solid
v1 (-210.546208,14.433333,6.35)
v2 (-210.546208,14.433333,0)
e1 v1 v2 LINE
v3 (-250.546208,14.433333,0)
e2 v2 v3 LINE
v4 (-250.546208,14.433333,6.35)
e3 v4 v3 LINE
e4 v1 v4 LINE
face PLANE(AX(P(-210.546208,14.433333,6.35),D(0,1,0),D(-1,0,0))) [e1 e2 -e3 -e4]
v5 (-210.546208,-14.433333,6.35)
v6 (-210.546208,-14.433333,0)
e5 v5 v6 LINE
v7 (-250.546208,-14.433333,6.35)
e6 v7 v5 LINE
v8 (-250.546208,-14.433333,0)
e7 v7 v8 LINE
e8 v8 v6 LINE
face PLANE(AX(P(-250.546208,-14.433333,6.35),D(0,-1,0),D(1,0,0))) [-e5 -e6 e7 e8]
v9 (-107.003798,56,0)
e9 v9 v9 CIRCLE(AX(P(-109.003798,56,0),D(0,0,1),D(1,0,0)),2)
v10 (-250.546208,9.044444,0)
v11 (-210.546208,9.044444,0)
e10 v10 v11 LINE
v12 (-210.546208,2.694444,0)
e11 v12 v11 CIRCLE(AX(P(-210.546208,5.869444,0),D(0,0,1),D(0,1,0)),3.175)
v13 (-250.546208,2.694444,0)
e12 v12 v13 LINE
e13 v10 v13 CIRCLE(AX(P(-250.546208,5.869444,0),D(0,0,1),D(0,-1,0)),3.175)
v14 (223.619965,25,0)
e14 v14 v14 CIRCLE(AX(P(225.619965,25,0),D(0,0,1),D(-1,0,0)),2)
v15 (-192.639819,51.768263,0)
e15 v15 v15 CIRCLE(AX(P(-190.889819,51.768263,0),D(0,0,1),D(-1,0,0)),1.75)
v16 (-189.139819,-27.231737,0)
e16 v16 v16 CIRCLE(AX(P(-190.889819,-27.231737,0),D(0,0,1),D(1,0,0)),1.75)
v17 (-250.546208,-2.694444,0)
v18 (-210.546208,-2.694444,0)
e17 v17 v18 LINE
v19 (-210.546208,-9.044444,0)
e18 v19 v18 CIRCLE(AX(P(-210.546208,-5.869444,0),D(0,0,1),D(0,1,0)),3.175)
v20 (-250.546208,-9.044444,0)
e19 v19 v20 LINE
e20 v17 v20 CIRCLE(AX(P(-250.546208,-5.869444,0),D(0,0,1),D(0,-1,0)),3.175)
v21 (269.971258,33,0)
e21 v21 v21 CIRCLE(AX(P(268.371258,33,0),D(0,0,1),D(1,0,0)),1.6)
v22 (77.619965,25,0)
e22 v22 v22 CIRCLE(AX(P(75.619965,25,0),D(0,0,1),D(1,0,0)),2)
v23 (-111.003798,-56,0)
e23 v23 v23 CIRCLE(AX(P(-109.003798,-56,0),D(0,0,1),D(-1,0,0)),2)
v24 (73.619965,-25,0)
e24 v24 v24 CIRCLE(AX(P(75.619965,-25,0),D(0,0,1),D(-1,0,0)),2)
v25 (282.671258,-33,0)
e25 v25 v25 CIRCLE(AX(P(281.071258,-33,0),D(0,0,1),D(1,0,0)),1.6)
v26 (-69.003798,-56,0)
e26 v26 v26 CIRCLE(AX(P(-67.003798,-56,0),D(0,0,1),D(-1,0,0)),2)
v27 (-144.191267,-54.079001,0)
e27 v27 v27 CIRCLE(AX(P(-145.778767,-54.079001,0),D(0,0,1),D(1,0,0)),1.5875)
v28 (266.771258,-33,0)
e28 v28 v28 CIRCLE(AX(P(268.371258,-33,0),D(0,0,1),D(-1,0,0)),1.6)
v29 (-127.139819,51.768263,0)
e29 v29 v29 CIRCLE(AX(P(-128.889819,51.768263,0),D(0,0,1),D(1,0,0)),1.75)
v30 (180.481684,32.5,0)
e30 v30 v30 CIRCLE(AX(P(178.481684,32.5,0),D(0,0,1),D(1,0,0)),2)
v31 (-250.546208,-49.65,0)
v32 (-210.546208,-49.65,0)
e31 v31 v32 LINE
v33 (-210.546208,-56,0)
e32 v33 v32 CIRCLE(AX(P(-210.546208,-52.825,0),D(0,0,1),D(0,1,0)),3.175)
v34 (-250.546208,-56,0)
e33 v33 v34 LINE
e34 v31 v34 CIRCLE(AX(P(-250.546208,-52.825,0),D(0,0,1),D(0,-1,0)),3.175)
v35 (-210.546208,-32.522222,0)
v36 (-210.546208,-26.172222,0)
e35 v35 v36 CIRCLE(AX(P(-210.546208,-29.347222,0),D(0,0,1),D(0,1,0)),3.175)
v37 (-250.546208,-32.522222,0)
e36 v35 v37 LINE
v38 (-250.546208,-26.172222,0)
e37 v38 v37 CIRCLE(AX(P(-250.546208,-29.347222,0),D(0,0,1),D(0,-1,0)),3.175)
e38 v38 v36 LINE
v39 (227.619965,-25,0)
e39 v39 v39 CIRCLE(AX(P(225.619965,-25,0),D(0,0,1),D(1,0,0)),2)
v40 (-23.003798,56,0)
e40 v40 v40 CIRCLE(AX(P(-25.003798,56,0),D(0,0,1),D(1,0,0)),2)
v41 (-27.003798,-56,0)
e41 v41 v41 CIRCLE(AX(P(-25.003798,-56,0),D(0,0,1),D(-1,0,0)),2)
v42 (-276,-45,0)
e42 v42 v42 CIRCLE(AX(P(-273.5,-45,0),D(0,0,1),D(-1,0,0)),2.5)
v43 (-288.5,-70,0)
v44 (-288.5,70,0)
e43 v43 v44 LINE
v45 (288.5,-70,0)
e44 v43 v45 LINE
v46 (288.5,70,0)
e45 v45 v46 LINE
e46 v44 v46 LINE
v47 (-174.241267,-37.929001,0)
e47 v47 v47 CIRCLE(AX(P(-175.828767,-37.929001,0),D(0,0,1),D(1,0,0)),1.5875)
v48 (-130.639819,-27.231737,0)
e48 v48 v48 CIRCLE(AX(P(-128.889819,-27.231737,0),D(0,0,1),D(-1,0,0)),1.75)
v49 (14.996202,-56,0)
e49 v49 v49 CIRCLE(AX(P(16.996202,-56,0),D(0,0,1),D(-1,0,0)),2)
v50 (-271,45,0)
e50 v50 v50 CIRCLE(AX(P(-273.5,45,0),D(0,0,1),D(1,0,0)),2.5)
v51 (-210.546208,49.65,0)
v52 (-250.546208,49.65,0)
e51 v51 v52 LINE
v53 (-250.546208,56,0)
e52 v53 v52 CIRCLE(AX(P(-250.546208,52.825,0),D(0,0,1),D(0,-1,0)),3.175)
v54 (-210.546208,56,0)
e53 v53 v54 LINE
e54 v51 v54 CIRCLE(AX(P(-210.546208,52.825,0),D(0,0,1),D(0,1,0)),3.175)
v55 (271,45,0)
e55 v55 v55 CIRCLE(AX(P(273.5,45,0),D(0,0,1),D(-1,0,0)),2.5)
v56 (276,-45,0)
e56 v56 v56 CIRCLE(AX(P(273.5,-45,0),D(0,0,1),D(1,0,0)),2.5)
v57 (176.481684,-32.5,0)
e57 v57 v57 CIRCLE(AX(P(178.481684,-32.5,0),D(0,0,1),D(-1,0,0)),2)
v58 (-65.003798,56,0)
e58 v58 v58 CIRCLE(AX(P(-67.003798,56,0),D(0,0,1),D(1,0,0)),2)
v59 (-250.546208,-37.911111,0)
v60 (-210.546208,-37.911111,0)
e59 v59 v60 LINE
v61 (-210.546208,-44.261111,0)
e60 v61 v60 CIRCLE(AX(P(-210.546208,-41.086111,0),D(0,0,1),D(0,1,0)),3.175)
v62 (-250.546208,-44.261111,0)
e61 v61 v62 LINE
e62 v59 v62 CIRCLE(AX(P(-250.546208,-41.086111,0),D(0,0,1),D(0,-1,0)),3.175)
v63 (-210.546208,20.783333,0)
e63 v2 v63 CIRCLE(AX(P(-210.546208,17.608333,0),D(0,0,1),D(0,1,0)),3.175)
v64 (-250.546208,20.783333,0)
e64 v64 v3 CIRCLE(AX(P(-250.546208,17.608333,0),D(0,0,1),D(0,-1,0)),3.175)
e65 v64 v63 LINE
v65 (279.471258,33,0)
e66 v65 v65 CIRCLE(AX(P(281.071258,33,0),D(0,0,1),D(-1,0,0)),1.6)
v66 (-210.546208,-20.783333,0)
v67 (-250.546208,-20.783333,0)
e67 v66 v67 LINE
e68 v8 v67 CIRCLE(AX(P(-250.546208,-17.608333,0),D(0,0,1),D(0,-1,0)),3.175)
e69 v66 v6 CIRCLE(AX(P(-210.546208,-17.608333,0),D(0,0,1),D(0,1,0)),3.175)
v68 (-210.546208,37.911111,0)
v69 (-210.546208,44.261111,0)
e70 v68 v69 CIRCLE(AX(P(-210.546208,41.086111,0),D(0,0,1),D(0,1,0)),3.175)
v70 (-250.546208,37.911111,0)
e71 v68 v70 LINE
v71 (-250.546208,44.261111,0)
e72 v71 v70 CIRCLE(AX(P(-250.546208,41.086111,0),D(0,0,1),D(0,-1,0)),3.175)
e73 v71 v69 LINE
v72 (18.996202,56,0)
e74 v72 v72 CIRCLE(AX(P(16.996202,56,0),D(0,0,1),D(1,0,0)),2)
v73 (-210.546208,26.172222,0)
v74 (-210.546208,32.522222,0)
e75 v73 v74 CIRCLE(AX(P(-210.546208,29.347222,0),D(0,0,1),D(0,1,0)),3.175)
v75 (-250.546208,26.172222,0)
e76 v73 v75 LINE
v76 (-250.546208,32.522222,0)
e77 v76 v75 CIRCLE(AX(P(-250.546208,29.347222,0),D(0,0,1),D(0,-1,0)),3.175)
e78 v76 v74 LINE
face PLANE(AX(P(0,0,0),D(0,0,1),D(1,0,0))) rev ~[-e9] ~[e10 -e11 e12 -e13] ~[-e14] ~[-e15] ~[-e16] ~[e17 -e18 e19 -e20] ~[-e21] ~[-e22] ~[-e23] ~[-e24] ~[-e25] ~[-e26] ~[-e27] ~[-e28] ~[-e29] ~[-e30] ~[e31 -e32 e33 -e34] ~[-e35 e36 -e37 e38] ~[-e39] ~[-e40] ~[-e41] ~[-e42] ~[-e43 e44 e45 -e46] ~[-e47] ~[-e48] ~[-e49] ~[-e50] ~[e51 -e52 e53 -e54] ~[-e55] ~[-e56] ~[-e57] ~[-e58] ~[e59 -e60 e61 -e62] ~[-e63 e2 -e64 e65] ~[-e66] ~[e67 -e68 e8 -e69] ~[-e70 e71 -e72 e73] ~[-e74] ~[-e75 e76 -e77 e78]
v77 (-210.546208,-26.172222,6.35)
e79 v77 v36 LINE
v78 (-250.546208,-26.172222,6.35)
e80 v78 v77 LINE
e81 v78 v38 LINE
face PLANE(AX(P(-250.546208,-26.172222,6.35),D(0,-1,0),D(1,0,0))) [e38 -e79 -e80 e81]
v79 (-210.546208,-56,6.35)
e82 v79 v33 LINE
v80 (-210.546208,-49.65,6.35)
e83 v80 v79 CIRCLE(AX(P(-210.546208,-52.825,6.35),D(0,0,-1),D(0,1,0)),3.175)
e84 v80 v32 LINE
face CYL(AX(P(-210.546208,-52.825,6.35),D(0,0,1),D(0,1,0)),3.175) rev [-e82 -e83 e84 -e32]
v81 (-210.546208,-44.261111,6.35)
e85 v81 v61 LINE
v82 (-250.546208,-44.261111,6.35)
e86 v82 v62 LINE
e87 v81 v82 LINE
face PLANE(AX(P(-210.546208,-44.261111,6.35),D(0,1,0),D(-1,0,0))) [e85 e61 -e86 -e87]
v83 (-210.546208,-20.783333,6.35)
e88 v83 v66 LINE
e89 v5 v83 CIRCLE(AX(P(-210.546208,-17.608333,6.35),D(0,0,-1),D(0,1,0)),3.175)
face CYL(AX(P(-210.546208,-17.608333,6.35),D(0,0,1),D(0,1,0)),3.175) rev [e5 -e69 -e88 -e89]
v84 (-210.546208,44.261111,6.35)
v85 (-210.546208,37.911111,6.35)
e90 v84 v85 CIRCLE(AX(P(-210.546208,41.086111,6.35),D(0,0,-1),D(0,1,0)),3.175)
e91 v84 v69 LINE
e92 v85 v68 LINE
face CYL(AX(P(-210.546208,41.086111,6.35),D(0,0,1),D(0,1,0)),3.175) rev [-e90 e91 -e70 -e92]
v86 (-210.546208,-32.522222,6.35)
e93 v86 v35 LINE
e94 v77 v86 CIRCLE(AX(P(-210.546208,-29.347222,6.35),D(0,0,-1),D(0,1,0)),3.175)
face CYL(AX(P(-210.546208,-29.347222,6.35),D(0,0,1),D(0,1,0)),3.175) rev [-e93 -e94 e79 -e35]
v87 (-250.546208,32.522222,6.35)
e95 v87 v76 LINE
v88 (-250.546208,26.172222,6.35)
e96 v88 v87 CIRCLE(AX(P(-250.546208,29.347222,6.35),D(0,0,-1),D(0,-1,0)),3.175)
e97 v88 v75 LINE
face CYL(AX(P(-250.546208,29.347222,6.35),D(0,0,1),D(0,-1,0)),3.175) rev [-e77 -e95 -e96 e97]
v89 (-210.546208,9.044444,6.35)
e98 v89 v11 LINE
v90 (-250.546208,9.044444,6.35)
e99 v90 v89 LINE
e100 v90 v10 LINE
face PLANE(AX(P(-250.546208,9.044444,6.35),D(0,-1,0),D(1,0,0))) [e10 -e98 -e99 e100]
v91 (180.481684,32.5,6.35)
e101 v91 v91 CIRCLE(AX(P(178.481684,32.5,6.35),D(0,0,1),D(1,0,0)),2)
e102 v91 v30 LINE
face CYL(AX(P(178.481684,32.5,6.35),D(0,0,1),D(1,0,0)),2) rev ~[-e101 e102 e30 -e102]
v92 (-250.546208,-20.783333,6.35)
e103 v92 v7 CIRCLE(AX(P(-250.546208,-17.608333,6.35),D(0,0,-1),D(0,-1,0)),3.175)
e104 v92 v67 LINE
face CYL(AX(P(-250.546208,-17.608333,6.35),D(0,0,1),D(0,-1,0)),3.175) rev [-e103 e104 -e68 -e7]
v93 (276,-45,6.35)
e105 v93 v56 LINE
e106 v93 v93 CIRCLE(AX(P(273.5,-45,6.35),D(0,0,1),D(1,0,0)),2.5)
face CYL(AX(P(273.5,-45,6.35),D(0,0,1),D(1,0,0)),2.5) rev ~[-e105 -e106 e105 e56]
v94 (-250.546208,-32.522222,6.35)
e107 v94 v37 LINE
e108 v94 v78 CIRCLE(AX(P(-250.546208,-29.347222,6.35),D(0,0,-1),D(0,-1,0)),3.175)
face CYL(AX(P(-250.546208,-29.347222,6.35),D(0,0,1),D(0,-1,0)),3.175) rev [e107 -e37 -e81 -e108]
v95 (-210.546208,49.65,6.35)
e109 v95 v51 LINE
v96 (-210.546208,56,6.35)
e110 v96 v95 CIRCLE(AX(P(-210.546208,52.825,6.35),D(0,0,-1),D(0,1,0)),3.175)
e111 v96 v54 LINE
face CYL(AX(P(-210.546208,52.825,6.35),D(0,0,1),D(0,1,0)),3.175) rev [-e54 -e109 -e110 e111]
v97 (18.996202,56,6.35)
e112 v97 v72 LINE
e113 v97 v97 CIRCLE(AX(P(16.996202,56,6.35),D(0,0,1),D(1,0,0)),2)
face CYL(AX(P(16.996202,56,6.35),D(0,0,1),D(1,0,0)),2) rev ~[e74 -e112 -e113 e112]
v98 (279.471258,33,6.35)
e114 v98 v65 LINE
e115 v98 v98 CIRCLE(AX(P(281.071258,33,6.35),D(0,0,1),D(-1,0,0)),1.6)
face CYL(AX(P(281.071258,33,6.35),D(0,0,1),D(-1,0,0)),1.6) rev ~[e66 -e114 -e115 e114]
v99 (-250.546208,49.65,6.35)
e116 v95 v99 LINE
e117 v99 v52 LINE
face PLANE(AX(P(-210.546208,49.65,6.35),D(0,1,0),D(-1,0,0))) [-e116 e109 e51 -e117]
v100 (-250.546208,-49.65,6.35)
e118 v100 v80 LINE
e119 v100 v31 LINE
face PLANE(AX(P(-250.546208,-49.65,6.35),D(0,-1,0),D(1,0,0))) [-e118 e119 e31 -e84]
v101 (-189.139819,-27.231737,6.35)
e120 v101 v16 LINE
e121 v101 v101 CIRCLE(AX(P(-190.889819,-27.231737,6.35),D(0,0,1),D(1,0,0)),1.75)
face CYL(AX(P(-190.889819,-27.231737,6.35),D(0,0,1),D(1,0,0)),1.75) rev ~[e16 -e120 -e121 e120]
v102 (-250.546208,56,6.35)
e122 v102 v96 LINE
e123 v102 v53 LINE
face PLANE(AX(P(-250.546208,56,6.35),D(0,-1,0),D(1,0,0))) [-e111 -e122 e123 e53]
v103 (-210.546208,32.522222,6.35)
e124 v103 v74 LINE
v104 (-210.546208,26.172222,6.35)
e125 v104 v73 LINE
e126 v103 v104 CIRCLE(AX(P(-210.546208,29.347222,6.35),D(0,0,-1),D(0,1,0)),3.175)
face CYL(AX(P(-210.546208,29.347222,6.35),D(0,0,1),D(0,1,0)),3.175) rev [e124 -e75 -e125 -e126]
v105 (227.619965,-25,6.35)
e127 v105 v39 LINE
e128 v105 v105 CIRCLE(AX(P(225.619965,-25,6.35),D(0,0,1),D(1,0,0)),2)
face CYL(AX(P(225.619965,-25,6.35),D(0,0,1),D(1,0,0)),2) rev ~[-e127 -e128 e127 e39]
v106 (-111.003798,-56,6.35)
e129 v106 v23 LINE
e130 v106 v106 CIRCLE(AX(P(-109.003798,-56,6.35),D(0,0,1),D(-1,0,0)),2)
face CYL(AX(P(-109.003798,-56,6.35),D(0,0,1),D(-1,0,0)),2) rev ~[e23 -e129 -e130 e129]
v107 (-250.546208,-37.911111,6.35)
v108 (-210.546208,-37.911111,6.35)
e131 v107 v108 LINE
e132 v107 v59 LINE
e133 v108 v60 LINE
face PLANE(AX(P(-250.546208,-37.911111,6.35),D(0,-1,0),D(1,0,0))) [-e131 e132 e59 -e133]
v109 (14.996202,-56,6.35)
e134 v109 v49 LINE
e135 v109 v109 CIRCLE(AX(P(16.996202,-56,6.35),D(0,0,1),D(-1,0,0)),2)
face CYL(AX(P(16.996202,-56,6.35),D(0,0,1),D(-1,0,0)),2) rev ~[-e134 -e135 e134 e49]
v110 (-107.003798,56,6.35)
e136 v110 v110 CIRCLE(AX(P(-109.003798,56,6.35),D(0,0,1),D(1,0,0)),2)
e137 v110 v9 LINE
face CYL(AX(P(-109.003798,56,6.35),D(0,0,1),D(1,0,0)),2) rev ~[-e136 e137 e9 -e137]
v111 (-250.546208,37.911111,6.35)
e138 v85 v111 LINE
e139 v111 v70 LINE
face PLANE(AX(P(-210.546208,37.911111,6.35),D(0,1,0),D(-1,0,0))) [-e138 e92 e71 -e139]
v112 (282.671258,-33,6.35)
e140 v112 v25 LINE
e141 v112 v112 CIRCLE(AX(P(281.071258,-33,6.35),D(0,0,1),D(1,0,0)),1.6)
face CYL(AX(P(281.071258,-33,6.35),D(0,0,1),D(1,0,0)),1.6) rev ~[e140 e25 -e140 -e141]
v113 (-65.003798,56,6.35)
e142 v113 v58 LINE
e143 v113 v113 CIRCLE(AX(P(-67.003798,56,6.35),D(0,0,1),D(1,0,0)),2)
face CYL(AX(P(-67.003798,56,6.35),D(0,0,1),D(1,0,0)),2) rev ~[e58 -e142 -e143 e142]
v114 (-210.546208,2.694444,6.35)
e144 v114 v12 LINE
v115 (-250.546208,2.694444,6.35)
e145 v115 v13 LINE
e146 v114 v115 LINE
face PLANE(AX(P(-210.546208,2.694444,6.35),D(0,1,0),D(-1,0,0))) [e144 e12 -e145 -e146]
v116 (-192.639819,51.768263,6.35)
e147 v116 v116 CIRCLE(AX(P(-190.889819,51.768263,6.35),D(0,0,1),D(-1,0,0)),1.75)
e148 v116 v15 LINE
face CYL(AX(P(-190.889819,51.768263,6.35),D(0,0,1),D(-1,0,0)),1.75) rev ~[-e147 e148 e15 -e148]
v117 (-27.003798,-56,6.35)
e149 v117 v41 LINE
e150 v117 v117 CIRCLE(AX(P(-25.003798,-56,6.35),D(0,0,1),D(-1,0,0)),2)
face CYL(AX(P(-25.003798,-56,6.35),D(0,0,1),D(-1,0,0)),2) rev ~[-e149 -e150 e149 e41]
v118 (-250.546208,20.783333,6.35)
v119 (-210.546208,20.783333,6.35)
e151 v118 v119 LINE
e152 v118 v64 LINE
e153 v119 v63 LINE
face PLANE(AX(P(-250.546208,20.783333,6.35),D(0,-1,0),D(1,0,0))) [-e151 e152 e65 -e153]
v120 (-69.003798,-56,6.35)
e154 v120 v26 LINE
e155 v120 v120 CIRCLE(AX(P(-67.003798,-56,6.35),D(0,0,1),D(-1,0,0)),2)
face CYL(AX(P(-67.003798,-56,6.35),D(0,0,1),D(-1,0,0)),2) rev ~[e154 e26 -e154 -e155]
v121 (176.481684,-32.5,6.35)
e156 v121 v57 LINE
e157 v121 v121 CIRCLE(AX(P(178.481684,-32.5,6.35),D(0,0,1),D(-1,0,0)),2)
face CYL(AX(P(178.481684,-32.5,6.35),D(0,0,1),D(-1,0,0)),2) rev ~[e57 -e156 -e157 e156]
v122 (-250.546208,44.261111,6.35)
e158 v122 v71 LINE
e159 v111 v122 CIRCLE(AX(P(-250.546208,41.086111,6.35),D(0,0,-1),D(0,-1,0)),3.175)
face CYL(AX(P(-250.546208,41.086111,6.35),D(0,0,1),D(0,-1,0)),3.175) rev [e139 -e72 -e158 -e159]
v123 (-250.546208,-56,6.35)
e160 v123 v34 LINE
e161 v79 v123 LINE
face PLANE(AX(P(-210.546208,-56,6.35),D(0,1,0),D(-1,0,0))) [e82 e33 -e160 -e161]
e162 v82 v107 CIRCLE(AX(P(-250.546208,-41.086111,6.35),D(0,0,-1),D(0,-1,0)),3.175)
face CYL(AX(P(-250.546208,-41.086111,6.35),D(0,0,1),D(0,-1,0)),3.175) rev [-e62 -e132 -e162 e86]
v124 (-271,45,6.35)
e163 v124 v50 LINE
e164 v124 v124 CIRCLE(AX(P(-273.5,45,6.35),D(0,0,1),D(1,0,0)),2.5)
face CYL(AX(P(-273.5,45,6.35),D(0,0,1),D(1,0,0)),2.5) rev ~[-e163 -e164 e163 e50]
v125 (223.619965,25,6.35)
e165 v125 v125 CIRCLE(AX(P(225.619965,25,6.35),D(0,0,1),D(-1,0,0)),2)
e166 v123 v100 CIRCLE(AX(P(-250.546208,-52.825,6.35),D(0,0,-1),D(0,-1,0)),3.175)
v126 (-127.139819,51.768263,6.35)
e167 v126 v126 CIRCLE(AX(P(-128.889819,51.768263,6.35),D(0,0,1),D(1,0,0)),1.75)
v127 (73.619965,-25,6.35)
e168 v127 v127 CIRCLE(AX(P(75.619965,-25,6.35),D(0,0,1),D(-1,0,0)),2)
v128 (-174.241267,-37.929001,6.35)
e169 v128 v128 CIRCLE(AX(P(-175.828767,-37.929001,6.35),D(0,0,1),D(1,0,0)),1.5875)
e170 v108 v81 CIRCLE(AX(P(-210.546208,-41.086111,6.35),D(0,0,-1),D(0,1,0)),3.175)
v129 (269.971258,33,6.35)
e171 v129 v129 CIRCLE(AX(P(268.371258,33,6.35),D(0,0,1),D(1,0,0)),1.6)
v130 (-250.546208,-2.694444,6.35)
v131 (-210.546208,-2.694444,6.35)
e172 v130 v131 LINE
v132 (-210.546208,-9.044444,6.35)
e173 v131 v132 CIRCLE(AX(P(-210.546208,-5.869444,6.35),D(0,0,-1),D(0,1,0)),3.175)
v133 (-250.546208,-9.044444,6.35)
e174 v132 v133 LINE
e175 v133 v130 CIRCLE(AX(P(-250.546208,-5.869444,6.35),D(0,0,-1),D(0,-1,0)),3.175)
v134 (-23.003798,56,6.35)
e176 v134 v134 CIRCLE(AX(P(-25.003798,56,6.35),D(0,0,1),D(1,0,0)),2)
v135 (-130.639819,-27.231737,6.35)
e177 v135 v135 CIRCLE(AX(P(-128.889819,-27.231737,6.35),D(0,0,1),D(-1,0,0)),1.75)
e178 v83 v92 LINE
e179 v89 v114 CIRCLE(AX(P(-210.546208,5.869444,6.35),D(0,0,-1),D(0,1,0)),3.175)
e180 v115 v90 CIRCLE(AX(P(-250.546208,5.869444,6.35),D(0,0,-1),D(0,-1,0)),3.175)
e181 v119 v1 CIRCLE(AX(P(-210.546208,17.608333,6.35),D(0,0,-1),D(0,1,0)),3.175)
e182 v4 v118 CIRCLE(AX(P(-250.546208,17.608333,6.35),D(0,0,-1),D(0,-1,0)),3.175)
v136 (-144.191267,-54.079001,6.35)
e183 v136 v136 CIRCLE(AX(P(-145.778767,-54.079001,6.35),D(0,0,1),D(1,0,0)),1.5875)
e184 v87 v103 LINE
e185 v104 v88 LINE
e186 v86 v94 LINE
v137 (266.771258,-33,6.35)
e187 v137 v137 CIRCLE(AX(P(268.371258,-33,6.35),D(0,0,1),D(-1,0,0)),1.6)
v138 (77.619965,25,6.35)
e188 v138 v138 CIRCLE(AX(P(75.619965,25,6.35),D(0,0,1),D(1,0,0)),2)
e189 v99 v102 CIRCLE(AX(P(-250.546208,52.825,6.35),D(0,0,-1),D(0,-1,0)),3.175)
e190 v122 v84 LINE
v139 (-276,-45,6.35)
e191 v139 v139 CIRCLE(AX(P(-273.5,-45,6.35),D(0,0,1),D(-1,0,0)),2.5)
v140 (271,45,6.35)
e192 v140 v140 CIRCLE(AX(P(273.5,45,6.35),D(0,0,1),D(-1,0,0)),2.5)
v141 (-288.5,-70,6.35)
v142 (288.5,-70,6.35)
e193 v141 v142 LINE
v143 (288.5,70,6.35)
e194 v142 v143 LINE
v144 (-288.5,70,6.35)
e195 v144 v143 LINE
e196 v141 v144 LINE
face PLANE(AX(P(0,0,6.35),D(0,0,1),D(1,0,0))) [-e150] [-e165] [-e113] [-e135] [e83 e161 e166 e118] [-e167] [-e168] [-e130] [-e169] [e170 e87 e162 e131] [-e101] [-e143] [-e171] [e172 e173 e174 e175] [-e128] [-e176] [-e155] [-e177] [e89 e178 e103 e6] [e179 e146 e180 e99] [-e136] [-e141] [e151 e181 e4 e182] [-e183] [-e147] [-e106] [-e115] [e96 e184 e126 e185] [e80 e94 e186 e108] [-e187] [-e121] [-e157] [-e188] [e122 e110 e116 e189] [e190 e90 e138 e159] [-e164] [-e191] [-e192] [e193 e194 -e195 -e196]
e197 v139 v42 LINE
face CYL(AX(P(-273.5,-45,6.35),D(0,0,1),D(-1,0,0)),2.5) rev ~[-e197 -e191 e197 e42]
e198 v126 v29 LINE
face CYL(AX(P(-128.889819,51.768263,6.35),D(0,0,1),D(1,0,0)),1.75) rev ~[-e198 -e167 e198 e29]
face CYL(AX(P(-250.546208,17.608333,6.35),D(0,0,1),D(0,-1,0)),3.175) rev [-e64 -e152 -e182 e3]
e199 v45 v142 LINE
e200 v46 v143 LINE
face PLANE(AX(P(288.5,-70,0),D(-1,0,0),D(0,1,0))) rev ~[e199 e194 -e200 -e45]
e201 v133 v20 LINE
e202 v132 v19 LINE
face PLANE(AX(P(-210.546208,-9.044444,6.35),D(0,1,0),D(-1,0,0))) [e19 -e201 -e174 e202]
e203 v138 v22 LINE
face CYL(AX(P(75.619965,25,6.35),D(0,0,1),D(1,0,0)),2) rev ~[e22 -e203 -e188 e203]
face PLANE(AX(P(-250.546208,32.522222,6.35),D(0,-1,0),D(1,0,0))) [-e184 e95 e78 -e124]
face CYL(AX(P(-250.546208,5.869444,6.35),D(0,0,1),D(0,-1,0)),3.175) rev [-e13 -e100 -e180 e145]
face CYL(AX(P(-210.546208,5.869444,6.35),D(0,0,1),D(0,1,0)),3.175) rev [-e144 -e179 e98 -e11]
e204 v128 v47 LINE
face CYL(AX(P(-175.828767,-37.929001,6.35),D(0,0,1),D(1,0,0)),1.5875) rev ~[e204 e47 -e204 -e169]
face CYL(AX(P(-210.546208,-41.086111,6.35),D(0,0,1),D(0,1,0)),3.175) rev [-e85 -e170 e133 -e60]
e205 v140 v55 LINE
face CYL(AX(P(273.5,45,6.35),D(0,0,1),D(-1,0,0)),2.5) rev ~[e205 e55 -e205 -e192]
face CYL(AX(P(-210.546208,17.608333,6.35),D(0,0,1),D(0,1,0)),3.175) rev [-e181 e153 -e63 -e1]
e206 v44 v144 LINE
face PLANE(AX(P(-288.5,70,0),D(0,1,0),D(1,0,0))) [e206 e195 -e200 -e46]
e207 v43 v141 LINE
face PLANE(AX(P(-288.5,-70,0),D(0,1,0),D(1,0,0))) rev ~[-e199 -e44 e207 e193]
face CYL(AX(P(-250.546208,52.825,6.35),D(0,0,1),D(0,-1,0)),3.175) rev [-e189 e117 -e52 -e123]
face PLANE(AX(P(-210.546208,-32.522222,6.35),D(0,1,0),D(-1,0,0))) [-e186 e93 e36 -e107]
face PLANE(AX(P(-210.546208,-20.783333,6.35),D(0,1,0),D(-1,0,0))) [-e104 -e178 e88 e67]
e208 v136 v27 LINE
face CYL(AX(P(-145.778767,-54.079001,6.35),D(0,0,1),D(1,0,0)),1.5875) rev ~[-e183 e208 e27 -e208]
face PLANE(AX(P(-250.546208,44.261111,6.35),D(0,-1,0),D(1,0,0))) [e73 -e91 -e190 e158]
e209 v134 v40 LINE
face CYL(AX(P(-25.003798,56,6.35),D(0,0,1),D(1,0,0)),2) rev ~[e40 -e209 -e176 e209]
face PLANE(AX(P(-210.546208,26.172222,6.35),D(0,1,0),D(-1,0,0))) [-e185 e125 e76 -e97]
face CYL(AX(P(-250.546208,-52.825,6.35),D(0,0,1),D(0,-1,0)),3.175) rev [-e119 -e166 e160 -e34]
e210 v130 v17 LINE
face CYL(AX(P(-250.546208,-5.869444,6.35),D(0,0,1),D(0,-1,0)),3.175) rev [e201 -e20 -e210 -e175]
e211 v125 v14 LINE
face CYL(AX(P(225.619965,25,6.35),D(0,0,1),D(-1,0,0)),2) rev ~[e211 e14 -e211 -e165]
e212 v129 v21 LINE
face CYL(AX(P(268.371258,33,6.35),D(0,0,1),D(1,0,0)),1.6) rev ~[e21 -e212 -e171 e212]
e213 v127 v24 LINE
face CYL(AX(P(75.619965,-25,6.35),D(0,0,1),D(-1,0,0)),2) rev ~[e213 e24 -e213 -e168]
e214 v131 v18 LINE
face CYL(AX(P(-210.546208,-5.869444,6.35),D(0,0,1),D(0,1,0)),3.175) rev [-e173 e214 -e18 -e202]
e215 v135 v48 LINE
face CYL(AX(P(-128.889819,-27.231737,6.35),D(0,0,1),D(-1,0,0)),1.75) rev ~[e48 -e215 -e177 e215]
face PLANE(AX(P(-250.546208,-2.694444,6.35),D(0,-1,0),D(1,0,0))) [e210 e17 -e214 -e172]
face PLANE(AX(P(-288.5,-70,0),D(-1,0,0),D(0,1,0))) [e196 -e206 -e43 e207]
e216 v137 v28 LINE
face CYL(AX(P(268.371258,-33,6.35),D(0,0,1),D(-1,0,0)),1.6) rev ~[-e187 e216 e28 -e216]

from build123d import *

# Parameters (mm, degrees)
SKETCH1_W           = 577
SKETCH1_H           = 140
BOSS_EXTRUDE1_DEPTH = 6.35
SKETCH2_R           = 2
SKETCH2_R_2         = 1.75
SKETCH2_R_3         = 1.6
SKETCH2_R_4         = 1.5875
CUT_EXTRUDE1_DEPTH  = 297.93866791
SKETCH4_R           = 2.5
CUT_EXTRUDE2_DEPTH  = 297.93866791
CUT_EXTRUDE3_DEPTH  = 297.93866791


with BuildPart() as part:
    # Sketch1 → Boss-Extrude1 (new body)
    with BuildSketch(Plane.XY):
        Rectangle(SKETCH1_W, SKETCH1_H)
    extrude(amount=BOSS_EXTRUDE1_DEPTH)

    # Sketch2 → Cut-Extrude1 (cut, through all)
    with BuildSketch(Plane.XY.offset(6.35)):
        with Locations((75.619965266, 25)):
            Circle(SKETCH2_R)
        with Locations(Location((225.619965266, 25, 0), (0, 0, 180))):
            Circle(SKETCH2_R)
        with Locations((225.619965266, -25)):
            Circle(SKETCH2_R)
        with Locations(Location((75.619965266, -25, 0), (0, 0, 180))):
            Circle(SKETCH2_R)
        with Locations((16.996201668, 56)):
            Circle(SKETCH2_R)
        with Locations(Location((16.996201668, -56, 0), (0, 0, 180))):
            Circle(SKETCH2_R)
        with Locations((-25.003798332, 56)):
            Circle(SKETCH2_R)
        with Locations(Location((-25.003798332, -56, 0), (0, 0, 180))):
            Circle(SKETCH2_R)
        with Locations((-67.003798332, 56)):
            Circle(SKETCH2_R)
        with Locations(Location((-67.003798332, -56, 0), (0, 0, 180))):
            Circle(SKETCH2_R)
        with Locations((-109.003798332, 56)):
            Circle(SKETCH2_R)
        with Locations(Location((-109.003798332, -56, 0), (0, 0, 180))):
            Circle(SKETCH2_R)
        with Locations((-128.889819491, 51.768262599)):
            Circle(SKETCH2_R_2)
        with Locations(Location((-190.889819491, 51.768262599, 0), (0, 0, 180))):
            Circle(SKETCH2_R_2)
        with Locations(Location((-128.889819491, -27.231737401, 0), (0, 0, 180))):
            Circle(SKETCH2_R_2)
        with Locations((-190.889819491, -27.231737401)):
            Circle(SKETCH2_R_2)
        with Locations((268.371258164, 33)):
            Circle(SKETCH2_R_3)
        with Locations(Location((281.071258164, 33, 0), (0, 0, 180))):
            Circle(SKETCH2_R_3)
        with Locations((281.071258164, -33)):
            Circle(SKETCH2_R_3)
        with Locations(Location((268.371258164, -33, 0), (0, 0, 180))):
            Circle(SKETCH2_R_3)
        with Locations((-145.778767067, -54.079001217)):
            Circle(SKETCH2_R_4)
        with Locations((-175.828767067, -37.929001217)):
            Circle(SKETCH2_R_4)
        with Locations((178.481684403, 32.5)):
            Circle(SKETCH2_R)
        with Locations(Location((178.481684403, -32.5, 0), (0, 0, 180))):
            Circle(SKETCH2_R)
    extrude(amount=-CUT_EXTRUDE1_DEPTH, mode=Mode.SUBTRACT)

    # Sketch4 → Cut-Extrude2 (cut, through all)
    with BuildSketch(Plane.XY.offset(6.35)):
        with Locations((-273.5, 45)):
            Circle(SKETCH4_R)
        with Locations(Location((273.5, 45, 0), (0, 0, 180))):
            Circle(SKETCH4_R)
        with Locations((273.5, -45)):
            Circle(SKETCH4_R)
        with Locations(Location((-273.5, -45, 0), (0, 0, 180))):
            Circle(SKETCH4_R)
    extrude(amount=-CUT_EXTRUDE2_DEPTH, mode=Mode.SUBTRACT)

    # Sketch5 → Cut-Extrude3 (cut, through all)
    with BuildSketch(Plane.XY.offset(6.35)):
        with BuildLine():
            Line((-250.546207845, 56), (-210.546207845, 56))
            ThreePointArc((-210.546207845, 56), (-207.371207845, 52.825), (-210.546207845, 49.65))
            Line((-210.546207845, 49.65), (-250.546207845, 49.65))
            ThreePointArc((-250.546207845, 49.65), (-253.721207845, 52.825), (-250.546207845, 56))
        make_face()
        with BuildLine():
            Line((-250.546207845, 44.261111111), (-210.546207845, 44.261111111))
            ThreePointArc((-210.546207845, 44.261111111), (-207.371207845, 41.086111111), (-210.546207845, 37.911111111))
            Line((-210.546207845, 37.911111111), (-250.546207845, 37.911111111))
            ThreePointArc((-250.546207845, 37.911111111), (-253.721207845, 41.086111111), (-250.546207845, 44.261111111))
        make_face()
        with BuildLine():
            Line((-250.546207845, 32.522222222), (-210.546207845, 32.522222222))
            ThreePointArc((-210.546207845, 32.522222222), (-207.371207845, 29.347222222), (-210.546207845, 26.172222222))
            Line((-210.546207845, 26.172222222), (-250.546207845, 26.172222222))
            ThreePointArc((-250.546207845, 26.172222222), (-253.721207845, 29.347222222), (-250.546207845, 32.522222222))
        make_face()
        with BuildLine():
            Line((-250.546207845, 20.783333333), (-210.546207845, 20.783333333))
            ThreePointArc((-210.546207845, 20.783333333), (-207.371207845, 17.608333333), (-210.546207845, 14.433333333))
            Line((-210.546207845, 14.433333333), (-250.546207845, 14.433333333))
            ThreePointArc((-250.546207845, 14.433333333), (-253.721207845, 17.608333333), (-250.546207845, 20.783333333))
        make_face()
        with BuildLine():
            Line((-250.546207845, 9.044444444), (-210.546207845, 9.044444444))
            ThreePointArc((-210.546207845, 9.044444444), (-207.371207845, 5.869444444), (-210.546207845, 2.694444444))
            Line((-210.546207845, 2.694444444), (-250.546207845, 2.694444444))
            ThreePointArc((-250.546207845, 2.694444444), (-253.721207845, 5.869444444), (-250.546207845, 9.044444444))
        make_face()
        with BuildLine():
            Line((-250.546207845, -2.694444444), (-210.546207845, -2.694444444))
            ThreePointArc((-210.546207845, -2.694444444), (-207.371207845, -5.869444444), (-210.546207845, -9.044444444))
            Line((-210.546207845, -9.044444444), (-250.546207845, -9.044444444))
            ThreePointArc((-250.546207845, -9.044444444), (-253.721207845, -5.869444444), (-250.546207845, -2.694444444))
        make_face()
        with BuildLine():
            Line((-250.546207845, -14.433333333), (-210.546207845, -14.433333333))
            ThreePointArc((-210.546207845, -14.433333333), (-207.371207845, -17.608333333), (-210.546207845, -20.783333333))
            Line((-210.546207845, -20.783333333), (-250.546207845, -20.783333333))
            ThreePointArc((-250.546207845, -20.783333333), (-253.721207845, -17.608333333), (-250.546207845, -14.433333333))
        make_face()
        with BuildLine():
            Line((-250.546207845, -26.172222222), (-210.546207845, -26.172222222))
            ThreePointArc((-210.546207845, -26.172222222), (-207.371207845, -29.347222222), (-210.546207845, -32.522222222))
            Line((-210.546207845, -32.522222222), (-250.546207845, -32.522222222))
            ThreePointArc((-250.546207845, -32.522222222), (-253.721207845, -29.347222222), (-250.546207845, -26.172222222))
        make_face()
        with BuildLine():
            Line((-250.546207845, -37.911111111), (-210.546207845, -37.911111111))
            ThreePointArc((-210.546207845, -37.911111111), (-207.371207845, -41.086111111), (-210.546207845, -44.261111111))
            Line((-210.546207845, -44.261111111), (-250.546207845, -44.261111111))
            ThreePointArc((-250.546207845, -44.261111111), (-253.721207845, -41.086111111), (-250.546207845, -37.911111111))
        make_face()
        with BuildLine():
            Line((-250.546207845, -49.65), (-210.546207845, -49.65))
            ThreePointArc((-210.546207845, -49.65), (-207.371207845, -52.825), (-210.546207845, -56))
            Line((-210.546207845, -56), (-250.546207845, -56))
            ThreePointArc((-250.546207845, -56), (-253.721207845, -52.825), (-250.546207845, -49.65))
        make_face()
    extrude(amount=-CUT_EXTRUDE3_DEPTH, mode=Mode.SUBTRACT)


solid = part.part
